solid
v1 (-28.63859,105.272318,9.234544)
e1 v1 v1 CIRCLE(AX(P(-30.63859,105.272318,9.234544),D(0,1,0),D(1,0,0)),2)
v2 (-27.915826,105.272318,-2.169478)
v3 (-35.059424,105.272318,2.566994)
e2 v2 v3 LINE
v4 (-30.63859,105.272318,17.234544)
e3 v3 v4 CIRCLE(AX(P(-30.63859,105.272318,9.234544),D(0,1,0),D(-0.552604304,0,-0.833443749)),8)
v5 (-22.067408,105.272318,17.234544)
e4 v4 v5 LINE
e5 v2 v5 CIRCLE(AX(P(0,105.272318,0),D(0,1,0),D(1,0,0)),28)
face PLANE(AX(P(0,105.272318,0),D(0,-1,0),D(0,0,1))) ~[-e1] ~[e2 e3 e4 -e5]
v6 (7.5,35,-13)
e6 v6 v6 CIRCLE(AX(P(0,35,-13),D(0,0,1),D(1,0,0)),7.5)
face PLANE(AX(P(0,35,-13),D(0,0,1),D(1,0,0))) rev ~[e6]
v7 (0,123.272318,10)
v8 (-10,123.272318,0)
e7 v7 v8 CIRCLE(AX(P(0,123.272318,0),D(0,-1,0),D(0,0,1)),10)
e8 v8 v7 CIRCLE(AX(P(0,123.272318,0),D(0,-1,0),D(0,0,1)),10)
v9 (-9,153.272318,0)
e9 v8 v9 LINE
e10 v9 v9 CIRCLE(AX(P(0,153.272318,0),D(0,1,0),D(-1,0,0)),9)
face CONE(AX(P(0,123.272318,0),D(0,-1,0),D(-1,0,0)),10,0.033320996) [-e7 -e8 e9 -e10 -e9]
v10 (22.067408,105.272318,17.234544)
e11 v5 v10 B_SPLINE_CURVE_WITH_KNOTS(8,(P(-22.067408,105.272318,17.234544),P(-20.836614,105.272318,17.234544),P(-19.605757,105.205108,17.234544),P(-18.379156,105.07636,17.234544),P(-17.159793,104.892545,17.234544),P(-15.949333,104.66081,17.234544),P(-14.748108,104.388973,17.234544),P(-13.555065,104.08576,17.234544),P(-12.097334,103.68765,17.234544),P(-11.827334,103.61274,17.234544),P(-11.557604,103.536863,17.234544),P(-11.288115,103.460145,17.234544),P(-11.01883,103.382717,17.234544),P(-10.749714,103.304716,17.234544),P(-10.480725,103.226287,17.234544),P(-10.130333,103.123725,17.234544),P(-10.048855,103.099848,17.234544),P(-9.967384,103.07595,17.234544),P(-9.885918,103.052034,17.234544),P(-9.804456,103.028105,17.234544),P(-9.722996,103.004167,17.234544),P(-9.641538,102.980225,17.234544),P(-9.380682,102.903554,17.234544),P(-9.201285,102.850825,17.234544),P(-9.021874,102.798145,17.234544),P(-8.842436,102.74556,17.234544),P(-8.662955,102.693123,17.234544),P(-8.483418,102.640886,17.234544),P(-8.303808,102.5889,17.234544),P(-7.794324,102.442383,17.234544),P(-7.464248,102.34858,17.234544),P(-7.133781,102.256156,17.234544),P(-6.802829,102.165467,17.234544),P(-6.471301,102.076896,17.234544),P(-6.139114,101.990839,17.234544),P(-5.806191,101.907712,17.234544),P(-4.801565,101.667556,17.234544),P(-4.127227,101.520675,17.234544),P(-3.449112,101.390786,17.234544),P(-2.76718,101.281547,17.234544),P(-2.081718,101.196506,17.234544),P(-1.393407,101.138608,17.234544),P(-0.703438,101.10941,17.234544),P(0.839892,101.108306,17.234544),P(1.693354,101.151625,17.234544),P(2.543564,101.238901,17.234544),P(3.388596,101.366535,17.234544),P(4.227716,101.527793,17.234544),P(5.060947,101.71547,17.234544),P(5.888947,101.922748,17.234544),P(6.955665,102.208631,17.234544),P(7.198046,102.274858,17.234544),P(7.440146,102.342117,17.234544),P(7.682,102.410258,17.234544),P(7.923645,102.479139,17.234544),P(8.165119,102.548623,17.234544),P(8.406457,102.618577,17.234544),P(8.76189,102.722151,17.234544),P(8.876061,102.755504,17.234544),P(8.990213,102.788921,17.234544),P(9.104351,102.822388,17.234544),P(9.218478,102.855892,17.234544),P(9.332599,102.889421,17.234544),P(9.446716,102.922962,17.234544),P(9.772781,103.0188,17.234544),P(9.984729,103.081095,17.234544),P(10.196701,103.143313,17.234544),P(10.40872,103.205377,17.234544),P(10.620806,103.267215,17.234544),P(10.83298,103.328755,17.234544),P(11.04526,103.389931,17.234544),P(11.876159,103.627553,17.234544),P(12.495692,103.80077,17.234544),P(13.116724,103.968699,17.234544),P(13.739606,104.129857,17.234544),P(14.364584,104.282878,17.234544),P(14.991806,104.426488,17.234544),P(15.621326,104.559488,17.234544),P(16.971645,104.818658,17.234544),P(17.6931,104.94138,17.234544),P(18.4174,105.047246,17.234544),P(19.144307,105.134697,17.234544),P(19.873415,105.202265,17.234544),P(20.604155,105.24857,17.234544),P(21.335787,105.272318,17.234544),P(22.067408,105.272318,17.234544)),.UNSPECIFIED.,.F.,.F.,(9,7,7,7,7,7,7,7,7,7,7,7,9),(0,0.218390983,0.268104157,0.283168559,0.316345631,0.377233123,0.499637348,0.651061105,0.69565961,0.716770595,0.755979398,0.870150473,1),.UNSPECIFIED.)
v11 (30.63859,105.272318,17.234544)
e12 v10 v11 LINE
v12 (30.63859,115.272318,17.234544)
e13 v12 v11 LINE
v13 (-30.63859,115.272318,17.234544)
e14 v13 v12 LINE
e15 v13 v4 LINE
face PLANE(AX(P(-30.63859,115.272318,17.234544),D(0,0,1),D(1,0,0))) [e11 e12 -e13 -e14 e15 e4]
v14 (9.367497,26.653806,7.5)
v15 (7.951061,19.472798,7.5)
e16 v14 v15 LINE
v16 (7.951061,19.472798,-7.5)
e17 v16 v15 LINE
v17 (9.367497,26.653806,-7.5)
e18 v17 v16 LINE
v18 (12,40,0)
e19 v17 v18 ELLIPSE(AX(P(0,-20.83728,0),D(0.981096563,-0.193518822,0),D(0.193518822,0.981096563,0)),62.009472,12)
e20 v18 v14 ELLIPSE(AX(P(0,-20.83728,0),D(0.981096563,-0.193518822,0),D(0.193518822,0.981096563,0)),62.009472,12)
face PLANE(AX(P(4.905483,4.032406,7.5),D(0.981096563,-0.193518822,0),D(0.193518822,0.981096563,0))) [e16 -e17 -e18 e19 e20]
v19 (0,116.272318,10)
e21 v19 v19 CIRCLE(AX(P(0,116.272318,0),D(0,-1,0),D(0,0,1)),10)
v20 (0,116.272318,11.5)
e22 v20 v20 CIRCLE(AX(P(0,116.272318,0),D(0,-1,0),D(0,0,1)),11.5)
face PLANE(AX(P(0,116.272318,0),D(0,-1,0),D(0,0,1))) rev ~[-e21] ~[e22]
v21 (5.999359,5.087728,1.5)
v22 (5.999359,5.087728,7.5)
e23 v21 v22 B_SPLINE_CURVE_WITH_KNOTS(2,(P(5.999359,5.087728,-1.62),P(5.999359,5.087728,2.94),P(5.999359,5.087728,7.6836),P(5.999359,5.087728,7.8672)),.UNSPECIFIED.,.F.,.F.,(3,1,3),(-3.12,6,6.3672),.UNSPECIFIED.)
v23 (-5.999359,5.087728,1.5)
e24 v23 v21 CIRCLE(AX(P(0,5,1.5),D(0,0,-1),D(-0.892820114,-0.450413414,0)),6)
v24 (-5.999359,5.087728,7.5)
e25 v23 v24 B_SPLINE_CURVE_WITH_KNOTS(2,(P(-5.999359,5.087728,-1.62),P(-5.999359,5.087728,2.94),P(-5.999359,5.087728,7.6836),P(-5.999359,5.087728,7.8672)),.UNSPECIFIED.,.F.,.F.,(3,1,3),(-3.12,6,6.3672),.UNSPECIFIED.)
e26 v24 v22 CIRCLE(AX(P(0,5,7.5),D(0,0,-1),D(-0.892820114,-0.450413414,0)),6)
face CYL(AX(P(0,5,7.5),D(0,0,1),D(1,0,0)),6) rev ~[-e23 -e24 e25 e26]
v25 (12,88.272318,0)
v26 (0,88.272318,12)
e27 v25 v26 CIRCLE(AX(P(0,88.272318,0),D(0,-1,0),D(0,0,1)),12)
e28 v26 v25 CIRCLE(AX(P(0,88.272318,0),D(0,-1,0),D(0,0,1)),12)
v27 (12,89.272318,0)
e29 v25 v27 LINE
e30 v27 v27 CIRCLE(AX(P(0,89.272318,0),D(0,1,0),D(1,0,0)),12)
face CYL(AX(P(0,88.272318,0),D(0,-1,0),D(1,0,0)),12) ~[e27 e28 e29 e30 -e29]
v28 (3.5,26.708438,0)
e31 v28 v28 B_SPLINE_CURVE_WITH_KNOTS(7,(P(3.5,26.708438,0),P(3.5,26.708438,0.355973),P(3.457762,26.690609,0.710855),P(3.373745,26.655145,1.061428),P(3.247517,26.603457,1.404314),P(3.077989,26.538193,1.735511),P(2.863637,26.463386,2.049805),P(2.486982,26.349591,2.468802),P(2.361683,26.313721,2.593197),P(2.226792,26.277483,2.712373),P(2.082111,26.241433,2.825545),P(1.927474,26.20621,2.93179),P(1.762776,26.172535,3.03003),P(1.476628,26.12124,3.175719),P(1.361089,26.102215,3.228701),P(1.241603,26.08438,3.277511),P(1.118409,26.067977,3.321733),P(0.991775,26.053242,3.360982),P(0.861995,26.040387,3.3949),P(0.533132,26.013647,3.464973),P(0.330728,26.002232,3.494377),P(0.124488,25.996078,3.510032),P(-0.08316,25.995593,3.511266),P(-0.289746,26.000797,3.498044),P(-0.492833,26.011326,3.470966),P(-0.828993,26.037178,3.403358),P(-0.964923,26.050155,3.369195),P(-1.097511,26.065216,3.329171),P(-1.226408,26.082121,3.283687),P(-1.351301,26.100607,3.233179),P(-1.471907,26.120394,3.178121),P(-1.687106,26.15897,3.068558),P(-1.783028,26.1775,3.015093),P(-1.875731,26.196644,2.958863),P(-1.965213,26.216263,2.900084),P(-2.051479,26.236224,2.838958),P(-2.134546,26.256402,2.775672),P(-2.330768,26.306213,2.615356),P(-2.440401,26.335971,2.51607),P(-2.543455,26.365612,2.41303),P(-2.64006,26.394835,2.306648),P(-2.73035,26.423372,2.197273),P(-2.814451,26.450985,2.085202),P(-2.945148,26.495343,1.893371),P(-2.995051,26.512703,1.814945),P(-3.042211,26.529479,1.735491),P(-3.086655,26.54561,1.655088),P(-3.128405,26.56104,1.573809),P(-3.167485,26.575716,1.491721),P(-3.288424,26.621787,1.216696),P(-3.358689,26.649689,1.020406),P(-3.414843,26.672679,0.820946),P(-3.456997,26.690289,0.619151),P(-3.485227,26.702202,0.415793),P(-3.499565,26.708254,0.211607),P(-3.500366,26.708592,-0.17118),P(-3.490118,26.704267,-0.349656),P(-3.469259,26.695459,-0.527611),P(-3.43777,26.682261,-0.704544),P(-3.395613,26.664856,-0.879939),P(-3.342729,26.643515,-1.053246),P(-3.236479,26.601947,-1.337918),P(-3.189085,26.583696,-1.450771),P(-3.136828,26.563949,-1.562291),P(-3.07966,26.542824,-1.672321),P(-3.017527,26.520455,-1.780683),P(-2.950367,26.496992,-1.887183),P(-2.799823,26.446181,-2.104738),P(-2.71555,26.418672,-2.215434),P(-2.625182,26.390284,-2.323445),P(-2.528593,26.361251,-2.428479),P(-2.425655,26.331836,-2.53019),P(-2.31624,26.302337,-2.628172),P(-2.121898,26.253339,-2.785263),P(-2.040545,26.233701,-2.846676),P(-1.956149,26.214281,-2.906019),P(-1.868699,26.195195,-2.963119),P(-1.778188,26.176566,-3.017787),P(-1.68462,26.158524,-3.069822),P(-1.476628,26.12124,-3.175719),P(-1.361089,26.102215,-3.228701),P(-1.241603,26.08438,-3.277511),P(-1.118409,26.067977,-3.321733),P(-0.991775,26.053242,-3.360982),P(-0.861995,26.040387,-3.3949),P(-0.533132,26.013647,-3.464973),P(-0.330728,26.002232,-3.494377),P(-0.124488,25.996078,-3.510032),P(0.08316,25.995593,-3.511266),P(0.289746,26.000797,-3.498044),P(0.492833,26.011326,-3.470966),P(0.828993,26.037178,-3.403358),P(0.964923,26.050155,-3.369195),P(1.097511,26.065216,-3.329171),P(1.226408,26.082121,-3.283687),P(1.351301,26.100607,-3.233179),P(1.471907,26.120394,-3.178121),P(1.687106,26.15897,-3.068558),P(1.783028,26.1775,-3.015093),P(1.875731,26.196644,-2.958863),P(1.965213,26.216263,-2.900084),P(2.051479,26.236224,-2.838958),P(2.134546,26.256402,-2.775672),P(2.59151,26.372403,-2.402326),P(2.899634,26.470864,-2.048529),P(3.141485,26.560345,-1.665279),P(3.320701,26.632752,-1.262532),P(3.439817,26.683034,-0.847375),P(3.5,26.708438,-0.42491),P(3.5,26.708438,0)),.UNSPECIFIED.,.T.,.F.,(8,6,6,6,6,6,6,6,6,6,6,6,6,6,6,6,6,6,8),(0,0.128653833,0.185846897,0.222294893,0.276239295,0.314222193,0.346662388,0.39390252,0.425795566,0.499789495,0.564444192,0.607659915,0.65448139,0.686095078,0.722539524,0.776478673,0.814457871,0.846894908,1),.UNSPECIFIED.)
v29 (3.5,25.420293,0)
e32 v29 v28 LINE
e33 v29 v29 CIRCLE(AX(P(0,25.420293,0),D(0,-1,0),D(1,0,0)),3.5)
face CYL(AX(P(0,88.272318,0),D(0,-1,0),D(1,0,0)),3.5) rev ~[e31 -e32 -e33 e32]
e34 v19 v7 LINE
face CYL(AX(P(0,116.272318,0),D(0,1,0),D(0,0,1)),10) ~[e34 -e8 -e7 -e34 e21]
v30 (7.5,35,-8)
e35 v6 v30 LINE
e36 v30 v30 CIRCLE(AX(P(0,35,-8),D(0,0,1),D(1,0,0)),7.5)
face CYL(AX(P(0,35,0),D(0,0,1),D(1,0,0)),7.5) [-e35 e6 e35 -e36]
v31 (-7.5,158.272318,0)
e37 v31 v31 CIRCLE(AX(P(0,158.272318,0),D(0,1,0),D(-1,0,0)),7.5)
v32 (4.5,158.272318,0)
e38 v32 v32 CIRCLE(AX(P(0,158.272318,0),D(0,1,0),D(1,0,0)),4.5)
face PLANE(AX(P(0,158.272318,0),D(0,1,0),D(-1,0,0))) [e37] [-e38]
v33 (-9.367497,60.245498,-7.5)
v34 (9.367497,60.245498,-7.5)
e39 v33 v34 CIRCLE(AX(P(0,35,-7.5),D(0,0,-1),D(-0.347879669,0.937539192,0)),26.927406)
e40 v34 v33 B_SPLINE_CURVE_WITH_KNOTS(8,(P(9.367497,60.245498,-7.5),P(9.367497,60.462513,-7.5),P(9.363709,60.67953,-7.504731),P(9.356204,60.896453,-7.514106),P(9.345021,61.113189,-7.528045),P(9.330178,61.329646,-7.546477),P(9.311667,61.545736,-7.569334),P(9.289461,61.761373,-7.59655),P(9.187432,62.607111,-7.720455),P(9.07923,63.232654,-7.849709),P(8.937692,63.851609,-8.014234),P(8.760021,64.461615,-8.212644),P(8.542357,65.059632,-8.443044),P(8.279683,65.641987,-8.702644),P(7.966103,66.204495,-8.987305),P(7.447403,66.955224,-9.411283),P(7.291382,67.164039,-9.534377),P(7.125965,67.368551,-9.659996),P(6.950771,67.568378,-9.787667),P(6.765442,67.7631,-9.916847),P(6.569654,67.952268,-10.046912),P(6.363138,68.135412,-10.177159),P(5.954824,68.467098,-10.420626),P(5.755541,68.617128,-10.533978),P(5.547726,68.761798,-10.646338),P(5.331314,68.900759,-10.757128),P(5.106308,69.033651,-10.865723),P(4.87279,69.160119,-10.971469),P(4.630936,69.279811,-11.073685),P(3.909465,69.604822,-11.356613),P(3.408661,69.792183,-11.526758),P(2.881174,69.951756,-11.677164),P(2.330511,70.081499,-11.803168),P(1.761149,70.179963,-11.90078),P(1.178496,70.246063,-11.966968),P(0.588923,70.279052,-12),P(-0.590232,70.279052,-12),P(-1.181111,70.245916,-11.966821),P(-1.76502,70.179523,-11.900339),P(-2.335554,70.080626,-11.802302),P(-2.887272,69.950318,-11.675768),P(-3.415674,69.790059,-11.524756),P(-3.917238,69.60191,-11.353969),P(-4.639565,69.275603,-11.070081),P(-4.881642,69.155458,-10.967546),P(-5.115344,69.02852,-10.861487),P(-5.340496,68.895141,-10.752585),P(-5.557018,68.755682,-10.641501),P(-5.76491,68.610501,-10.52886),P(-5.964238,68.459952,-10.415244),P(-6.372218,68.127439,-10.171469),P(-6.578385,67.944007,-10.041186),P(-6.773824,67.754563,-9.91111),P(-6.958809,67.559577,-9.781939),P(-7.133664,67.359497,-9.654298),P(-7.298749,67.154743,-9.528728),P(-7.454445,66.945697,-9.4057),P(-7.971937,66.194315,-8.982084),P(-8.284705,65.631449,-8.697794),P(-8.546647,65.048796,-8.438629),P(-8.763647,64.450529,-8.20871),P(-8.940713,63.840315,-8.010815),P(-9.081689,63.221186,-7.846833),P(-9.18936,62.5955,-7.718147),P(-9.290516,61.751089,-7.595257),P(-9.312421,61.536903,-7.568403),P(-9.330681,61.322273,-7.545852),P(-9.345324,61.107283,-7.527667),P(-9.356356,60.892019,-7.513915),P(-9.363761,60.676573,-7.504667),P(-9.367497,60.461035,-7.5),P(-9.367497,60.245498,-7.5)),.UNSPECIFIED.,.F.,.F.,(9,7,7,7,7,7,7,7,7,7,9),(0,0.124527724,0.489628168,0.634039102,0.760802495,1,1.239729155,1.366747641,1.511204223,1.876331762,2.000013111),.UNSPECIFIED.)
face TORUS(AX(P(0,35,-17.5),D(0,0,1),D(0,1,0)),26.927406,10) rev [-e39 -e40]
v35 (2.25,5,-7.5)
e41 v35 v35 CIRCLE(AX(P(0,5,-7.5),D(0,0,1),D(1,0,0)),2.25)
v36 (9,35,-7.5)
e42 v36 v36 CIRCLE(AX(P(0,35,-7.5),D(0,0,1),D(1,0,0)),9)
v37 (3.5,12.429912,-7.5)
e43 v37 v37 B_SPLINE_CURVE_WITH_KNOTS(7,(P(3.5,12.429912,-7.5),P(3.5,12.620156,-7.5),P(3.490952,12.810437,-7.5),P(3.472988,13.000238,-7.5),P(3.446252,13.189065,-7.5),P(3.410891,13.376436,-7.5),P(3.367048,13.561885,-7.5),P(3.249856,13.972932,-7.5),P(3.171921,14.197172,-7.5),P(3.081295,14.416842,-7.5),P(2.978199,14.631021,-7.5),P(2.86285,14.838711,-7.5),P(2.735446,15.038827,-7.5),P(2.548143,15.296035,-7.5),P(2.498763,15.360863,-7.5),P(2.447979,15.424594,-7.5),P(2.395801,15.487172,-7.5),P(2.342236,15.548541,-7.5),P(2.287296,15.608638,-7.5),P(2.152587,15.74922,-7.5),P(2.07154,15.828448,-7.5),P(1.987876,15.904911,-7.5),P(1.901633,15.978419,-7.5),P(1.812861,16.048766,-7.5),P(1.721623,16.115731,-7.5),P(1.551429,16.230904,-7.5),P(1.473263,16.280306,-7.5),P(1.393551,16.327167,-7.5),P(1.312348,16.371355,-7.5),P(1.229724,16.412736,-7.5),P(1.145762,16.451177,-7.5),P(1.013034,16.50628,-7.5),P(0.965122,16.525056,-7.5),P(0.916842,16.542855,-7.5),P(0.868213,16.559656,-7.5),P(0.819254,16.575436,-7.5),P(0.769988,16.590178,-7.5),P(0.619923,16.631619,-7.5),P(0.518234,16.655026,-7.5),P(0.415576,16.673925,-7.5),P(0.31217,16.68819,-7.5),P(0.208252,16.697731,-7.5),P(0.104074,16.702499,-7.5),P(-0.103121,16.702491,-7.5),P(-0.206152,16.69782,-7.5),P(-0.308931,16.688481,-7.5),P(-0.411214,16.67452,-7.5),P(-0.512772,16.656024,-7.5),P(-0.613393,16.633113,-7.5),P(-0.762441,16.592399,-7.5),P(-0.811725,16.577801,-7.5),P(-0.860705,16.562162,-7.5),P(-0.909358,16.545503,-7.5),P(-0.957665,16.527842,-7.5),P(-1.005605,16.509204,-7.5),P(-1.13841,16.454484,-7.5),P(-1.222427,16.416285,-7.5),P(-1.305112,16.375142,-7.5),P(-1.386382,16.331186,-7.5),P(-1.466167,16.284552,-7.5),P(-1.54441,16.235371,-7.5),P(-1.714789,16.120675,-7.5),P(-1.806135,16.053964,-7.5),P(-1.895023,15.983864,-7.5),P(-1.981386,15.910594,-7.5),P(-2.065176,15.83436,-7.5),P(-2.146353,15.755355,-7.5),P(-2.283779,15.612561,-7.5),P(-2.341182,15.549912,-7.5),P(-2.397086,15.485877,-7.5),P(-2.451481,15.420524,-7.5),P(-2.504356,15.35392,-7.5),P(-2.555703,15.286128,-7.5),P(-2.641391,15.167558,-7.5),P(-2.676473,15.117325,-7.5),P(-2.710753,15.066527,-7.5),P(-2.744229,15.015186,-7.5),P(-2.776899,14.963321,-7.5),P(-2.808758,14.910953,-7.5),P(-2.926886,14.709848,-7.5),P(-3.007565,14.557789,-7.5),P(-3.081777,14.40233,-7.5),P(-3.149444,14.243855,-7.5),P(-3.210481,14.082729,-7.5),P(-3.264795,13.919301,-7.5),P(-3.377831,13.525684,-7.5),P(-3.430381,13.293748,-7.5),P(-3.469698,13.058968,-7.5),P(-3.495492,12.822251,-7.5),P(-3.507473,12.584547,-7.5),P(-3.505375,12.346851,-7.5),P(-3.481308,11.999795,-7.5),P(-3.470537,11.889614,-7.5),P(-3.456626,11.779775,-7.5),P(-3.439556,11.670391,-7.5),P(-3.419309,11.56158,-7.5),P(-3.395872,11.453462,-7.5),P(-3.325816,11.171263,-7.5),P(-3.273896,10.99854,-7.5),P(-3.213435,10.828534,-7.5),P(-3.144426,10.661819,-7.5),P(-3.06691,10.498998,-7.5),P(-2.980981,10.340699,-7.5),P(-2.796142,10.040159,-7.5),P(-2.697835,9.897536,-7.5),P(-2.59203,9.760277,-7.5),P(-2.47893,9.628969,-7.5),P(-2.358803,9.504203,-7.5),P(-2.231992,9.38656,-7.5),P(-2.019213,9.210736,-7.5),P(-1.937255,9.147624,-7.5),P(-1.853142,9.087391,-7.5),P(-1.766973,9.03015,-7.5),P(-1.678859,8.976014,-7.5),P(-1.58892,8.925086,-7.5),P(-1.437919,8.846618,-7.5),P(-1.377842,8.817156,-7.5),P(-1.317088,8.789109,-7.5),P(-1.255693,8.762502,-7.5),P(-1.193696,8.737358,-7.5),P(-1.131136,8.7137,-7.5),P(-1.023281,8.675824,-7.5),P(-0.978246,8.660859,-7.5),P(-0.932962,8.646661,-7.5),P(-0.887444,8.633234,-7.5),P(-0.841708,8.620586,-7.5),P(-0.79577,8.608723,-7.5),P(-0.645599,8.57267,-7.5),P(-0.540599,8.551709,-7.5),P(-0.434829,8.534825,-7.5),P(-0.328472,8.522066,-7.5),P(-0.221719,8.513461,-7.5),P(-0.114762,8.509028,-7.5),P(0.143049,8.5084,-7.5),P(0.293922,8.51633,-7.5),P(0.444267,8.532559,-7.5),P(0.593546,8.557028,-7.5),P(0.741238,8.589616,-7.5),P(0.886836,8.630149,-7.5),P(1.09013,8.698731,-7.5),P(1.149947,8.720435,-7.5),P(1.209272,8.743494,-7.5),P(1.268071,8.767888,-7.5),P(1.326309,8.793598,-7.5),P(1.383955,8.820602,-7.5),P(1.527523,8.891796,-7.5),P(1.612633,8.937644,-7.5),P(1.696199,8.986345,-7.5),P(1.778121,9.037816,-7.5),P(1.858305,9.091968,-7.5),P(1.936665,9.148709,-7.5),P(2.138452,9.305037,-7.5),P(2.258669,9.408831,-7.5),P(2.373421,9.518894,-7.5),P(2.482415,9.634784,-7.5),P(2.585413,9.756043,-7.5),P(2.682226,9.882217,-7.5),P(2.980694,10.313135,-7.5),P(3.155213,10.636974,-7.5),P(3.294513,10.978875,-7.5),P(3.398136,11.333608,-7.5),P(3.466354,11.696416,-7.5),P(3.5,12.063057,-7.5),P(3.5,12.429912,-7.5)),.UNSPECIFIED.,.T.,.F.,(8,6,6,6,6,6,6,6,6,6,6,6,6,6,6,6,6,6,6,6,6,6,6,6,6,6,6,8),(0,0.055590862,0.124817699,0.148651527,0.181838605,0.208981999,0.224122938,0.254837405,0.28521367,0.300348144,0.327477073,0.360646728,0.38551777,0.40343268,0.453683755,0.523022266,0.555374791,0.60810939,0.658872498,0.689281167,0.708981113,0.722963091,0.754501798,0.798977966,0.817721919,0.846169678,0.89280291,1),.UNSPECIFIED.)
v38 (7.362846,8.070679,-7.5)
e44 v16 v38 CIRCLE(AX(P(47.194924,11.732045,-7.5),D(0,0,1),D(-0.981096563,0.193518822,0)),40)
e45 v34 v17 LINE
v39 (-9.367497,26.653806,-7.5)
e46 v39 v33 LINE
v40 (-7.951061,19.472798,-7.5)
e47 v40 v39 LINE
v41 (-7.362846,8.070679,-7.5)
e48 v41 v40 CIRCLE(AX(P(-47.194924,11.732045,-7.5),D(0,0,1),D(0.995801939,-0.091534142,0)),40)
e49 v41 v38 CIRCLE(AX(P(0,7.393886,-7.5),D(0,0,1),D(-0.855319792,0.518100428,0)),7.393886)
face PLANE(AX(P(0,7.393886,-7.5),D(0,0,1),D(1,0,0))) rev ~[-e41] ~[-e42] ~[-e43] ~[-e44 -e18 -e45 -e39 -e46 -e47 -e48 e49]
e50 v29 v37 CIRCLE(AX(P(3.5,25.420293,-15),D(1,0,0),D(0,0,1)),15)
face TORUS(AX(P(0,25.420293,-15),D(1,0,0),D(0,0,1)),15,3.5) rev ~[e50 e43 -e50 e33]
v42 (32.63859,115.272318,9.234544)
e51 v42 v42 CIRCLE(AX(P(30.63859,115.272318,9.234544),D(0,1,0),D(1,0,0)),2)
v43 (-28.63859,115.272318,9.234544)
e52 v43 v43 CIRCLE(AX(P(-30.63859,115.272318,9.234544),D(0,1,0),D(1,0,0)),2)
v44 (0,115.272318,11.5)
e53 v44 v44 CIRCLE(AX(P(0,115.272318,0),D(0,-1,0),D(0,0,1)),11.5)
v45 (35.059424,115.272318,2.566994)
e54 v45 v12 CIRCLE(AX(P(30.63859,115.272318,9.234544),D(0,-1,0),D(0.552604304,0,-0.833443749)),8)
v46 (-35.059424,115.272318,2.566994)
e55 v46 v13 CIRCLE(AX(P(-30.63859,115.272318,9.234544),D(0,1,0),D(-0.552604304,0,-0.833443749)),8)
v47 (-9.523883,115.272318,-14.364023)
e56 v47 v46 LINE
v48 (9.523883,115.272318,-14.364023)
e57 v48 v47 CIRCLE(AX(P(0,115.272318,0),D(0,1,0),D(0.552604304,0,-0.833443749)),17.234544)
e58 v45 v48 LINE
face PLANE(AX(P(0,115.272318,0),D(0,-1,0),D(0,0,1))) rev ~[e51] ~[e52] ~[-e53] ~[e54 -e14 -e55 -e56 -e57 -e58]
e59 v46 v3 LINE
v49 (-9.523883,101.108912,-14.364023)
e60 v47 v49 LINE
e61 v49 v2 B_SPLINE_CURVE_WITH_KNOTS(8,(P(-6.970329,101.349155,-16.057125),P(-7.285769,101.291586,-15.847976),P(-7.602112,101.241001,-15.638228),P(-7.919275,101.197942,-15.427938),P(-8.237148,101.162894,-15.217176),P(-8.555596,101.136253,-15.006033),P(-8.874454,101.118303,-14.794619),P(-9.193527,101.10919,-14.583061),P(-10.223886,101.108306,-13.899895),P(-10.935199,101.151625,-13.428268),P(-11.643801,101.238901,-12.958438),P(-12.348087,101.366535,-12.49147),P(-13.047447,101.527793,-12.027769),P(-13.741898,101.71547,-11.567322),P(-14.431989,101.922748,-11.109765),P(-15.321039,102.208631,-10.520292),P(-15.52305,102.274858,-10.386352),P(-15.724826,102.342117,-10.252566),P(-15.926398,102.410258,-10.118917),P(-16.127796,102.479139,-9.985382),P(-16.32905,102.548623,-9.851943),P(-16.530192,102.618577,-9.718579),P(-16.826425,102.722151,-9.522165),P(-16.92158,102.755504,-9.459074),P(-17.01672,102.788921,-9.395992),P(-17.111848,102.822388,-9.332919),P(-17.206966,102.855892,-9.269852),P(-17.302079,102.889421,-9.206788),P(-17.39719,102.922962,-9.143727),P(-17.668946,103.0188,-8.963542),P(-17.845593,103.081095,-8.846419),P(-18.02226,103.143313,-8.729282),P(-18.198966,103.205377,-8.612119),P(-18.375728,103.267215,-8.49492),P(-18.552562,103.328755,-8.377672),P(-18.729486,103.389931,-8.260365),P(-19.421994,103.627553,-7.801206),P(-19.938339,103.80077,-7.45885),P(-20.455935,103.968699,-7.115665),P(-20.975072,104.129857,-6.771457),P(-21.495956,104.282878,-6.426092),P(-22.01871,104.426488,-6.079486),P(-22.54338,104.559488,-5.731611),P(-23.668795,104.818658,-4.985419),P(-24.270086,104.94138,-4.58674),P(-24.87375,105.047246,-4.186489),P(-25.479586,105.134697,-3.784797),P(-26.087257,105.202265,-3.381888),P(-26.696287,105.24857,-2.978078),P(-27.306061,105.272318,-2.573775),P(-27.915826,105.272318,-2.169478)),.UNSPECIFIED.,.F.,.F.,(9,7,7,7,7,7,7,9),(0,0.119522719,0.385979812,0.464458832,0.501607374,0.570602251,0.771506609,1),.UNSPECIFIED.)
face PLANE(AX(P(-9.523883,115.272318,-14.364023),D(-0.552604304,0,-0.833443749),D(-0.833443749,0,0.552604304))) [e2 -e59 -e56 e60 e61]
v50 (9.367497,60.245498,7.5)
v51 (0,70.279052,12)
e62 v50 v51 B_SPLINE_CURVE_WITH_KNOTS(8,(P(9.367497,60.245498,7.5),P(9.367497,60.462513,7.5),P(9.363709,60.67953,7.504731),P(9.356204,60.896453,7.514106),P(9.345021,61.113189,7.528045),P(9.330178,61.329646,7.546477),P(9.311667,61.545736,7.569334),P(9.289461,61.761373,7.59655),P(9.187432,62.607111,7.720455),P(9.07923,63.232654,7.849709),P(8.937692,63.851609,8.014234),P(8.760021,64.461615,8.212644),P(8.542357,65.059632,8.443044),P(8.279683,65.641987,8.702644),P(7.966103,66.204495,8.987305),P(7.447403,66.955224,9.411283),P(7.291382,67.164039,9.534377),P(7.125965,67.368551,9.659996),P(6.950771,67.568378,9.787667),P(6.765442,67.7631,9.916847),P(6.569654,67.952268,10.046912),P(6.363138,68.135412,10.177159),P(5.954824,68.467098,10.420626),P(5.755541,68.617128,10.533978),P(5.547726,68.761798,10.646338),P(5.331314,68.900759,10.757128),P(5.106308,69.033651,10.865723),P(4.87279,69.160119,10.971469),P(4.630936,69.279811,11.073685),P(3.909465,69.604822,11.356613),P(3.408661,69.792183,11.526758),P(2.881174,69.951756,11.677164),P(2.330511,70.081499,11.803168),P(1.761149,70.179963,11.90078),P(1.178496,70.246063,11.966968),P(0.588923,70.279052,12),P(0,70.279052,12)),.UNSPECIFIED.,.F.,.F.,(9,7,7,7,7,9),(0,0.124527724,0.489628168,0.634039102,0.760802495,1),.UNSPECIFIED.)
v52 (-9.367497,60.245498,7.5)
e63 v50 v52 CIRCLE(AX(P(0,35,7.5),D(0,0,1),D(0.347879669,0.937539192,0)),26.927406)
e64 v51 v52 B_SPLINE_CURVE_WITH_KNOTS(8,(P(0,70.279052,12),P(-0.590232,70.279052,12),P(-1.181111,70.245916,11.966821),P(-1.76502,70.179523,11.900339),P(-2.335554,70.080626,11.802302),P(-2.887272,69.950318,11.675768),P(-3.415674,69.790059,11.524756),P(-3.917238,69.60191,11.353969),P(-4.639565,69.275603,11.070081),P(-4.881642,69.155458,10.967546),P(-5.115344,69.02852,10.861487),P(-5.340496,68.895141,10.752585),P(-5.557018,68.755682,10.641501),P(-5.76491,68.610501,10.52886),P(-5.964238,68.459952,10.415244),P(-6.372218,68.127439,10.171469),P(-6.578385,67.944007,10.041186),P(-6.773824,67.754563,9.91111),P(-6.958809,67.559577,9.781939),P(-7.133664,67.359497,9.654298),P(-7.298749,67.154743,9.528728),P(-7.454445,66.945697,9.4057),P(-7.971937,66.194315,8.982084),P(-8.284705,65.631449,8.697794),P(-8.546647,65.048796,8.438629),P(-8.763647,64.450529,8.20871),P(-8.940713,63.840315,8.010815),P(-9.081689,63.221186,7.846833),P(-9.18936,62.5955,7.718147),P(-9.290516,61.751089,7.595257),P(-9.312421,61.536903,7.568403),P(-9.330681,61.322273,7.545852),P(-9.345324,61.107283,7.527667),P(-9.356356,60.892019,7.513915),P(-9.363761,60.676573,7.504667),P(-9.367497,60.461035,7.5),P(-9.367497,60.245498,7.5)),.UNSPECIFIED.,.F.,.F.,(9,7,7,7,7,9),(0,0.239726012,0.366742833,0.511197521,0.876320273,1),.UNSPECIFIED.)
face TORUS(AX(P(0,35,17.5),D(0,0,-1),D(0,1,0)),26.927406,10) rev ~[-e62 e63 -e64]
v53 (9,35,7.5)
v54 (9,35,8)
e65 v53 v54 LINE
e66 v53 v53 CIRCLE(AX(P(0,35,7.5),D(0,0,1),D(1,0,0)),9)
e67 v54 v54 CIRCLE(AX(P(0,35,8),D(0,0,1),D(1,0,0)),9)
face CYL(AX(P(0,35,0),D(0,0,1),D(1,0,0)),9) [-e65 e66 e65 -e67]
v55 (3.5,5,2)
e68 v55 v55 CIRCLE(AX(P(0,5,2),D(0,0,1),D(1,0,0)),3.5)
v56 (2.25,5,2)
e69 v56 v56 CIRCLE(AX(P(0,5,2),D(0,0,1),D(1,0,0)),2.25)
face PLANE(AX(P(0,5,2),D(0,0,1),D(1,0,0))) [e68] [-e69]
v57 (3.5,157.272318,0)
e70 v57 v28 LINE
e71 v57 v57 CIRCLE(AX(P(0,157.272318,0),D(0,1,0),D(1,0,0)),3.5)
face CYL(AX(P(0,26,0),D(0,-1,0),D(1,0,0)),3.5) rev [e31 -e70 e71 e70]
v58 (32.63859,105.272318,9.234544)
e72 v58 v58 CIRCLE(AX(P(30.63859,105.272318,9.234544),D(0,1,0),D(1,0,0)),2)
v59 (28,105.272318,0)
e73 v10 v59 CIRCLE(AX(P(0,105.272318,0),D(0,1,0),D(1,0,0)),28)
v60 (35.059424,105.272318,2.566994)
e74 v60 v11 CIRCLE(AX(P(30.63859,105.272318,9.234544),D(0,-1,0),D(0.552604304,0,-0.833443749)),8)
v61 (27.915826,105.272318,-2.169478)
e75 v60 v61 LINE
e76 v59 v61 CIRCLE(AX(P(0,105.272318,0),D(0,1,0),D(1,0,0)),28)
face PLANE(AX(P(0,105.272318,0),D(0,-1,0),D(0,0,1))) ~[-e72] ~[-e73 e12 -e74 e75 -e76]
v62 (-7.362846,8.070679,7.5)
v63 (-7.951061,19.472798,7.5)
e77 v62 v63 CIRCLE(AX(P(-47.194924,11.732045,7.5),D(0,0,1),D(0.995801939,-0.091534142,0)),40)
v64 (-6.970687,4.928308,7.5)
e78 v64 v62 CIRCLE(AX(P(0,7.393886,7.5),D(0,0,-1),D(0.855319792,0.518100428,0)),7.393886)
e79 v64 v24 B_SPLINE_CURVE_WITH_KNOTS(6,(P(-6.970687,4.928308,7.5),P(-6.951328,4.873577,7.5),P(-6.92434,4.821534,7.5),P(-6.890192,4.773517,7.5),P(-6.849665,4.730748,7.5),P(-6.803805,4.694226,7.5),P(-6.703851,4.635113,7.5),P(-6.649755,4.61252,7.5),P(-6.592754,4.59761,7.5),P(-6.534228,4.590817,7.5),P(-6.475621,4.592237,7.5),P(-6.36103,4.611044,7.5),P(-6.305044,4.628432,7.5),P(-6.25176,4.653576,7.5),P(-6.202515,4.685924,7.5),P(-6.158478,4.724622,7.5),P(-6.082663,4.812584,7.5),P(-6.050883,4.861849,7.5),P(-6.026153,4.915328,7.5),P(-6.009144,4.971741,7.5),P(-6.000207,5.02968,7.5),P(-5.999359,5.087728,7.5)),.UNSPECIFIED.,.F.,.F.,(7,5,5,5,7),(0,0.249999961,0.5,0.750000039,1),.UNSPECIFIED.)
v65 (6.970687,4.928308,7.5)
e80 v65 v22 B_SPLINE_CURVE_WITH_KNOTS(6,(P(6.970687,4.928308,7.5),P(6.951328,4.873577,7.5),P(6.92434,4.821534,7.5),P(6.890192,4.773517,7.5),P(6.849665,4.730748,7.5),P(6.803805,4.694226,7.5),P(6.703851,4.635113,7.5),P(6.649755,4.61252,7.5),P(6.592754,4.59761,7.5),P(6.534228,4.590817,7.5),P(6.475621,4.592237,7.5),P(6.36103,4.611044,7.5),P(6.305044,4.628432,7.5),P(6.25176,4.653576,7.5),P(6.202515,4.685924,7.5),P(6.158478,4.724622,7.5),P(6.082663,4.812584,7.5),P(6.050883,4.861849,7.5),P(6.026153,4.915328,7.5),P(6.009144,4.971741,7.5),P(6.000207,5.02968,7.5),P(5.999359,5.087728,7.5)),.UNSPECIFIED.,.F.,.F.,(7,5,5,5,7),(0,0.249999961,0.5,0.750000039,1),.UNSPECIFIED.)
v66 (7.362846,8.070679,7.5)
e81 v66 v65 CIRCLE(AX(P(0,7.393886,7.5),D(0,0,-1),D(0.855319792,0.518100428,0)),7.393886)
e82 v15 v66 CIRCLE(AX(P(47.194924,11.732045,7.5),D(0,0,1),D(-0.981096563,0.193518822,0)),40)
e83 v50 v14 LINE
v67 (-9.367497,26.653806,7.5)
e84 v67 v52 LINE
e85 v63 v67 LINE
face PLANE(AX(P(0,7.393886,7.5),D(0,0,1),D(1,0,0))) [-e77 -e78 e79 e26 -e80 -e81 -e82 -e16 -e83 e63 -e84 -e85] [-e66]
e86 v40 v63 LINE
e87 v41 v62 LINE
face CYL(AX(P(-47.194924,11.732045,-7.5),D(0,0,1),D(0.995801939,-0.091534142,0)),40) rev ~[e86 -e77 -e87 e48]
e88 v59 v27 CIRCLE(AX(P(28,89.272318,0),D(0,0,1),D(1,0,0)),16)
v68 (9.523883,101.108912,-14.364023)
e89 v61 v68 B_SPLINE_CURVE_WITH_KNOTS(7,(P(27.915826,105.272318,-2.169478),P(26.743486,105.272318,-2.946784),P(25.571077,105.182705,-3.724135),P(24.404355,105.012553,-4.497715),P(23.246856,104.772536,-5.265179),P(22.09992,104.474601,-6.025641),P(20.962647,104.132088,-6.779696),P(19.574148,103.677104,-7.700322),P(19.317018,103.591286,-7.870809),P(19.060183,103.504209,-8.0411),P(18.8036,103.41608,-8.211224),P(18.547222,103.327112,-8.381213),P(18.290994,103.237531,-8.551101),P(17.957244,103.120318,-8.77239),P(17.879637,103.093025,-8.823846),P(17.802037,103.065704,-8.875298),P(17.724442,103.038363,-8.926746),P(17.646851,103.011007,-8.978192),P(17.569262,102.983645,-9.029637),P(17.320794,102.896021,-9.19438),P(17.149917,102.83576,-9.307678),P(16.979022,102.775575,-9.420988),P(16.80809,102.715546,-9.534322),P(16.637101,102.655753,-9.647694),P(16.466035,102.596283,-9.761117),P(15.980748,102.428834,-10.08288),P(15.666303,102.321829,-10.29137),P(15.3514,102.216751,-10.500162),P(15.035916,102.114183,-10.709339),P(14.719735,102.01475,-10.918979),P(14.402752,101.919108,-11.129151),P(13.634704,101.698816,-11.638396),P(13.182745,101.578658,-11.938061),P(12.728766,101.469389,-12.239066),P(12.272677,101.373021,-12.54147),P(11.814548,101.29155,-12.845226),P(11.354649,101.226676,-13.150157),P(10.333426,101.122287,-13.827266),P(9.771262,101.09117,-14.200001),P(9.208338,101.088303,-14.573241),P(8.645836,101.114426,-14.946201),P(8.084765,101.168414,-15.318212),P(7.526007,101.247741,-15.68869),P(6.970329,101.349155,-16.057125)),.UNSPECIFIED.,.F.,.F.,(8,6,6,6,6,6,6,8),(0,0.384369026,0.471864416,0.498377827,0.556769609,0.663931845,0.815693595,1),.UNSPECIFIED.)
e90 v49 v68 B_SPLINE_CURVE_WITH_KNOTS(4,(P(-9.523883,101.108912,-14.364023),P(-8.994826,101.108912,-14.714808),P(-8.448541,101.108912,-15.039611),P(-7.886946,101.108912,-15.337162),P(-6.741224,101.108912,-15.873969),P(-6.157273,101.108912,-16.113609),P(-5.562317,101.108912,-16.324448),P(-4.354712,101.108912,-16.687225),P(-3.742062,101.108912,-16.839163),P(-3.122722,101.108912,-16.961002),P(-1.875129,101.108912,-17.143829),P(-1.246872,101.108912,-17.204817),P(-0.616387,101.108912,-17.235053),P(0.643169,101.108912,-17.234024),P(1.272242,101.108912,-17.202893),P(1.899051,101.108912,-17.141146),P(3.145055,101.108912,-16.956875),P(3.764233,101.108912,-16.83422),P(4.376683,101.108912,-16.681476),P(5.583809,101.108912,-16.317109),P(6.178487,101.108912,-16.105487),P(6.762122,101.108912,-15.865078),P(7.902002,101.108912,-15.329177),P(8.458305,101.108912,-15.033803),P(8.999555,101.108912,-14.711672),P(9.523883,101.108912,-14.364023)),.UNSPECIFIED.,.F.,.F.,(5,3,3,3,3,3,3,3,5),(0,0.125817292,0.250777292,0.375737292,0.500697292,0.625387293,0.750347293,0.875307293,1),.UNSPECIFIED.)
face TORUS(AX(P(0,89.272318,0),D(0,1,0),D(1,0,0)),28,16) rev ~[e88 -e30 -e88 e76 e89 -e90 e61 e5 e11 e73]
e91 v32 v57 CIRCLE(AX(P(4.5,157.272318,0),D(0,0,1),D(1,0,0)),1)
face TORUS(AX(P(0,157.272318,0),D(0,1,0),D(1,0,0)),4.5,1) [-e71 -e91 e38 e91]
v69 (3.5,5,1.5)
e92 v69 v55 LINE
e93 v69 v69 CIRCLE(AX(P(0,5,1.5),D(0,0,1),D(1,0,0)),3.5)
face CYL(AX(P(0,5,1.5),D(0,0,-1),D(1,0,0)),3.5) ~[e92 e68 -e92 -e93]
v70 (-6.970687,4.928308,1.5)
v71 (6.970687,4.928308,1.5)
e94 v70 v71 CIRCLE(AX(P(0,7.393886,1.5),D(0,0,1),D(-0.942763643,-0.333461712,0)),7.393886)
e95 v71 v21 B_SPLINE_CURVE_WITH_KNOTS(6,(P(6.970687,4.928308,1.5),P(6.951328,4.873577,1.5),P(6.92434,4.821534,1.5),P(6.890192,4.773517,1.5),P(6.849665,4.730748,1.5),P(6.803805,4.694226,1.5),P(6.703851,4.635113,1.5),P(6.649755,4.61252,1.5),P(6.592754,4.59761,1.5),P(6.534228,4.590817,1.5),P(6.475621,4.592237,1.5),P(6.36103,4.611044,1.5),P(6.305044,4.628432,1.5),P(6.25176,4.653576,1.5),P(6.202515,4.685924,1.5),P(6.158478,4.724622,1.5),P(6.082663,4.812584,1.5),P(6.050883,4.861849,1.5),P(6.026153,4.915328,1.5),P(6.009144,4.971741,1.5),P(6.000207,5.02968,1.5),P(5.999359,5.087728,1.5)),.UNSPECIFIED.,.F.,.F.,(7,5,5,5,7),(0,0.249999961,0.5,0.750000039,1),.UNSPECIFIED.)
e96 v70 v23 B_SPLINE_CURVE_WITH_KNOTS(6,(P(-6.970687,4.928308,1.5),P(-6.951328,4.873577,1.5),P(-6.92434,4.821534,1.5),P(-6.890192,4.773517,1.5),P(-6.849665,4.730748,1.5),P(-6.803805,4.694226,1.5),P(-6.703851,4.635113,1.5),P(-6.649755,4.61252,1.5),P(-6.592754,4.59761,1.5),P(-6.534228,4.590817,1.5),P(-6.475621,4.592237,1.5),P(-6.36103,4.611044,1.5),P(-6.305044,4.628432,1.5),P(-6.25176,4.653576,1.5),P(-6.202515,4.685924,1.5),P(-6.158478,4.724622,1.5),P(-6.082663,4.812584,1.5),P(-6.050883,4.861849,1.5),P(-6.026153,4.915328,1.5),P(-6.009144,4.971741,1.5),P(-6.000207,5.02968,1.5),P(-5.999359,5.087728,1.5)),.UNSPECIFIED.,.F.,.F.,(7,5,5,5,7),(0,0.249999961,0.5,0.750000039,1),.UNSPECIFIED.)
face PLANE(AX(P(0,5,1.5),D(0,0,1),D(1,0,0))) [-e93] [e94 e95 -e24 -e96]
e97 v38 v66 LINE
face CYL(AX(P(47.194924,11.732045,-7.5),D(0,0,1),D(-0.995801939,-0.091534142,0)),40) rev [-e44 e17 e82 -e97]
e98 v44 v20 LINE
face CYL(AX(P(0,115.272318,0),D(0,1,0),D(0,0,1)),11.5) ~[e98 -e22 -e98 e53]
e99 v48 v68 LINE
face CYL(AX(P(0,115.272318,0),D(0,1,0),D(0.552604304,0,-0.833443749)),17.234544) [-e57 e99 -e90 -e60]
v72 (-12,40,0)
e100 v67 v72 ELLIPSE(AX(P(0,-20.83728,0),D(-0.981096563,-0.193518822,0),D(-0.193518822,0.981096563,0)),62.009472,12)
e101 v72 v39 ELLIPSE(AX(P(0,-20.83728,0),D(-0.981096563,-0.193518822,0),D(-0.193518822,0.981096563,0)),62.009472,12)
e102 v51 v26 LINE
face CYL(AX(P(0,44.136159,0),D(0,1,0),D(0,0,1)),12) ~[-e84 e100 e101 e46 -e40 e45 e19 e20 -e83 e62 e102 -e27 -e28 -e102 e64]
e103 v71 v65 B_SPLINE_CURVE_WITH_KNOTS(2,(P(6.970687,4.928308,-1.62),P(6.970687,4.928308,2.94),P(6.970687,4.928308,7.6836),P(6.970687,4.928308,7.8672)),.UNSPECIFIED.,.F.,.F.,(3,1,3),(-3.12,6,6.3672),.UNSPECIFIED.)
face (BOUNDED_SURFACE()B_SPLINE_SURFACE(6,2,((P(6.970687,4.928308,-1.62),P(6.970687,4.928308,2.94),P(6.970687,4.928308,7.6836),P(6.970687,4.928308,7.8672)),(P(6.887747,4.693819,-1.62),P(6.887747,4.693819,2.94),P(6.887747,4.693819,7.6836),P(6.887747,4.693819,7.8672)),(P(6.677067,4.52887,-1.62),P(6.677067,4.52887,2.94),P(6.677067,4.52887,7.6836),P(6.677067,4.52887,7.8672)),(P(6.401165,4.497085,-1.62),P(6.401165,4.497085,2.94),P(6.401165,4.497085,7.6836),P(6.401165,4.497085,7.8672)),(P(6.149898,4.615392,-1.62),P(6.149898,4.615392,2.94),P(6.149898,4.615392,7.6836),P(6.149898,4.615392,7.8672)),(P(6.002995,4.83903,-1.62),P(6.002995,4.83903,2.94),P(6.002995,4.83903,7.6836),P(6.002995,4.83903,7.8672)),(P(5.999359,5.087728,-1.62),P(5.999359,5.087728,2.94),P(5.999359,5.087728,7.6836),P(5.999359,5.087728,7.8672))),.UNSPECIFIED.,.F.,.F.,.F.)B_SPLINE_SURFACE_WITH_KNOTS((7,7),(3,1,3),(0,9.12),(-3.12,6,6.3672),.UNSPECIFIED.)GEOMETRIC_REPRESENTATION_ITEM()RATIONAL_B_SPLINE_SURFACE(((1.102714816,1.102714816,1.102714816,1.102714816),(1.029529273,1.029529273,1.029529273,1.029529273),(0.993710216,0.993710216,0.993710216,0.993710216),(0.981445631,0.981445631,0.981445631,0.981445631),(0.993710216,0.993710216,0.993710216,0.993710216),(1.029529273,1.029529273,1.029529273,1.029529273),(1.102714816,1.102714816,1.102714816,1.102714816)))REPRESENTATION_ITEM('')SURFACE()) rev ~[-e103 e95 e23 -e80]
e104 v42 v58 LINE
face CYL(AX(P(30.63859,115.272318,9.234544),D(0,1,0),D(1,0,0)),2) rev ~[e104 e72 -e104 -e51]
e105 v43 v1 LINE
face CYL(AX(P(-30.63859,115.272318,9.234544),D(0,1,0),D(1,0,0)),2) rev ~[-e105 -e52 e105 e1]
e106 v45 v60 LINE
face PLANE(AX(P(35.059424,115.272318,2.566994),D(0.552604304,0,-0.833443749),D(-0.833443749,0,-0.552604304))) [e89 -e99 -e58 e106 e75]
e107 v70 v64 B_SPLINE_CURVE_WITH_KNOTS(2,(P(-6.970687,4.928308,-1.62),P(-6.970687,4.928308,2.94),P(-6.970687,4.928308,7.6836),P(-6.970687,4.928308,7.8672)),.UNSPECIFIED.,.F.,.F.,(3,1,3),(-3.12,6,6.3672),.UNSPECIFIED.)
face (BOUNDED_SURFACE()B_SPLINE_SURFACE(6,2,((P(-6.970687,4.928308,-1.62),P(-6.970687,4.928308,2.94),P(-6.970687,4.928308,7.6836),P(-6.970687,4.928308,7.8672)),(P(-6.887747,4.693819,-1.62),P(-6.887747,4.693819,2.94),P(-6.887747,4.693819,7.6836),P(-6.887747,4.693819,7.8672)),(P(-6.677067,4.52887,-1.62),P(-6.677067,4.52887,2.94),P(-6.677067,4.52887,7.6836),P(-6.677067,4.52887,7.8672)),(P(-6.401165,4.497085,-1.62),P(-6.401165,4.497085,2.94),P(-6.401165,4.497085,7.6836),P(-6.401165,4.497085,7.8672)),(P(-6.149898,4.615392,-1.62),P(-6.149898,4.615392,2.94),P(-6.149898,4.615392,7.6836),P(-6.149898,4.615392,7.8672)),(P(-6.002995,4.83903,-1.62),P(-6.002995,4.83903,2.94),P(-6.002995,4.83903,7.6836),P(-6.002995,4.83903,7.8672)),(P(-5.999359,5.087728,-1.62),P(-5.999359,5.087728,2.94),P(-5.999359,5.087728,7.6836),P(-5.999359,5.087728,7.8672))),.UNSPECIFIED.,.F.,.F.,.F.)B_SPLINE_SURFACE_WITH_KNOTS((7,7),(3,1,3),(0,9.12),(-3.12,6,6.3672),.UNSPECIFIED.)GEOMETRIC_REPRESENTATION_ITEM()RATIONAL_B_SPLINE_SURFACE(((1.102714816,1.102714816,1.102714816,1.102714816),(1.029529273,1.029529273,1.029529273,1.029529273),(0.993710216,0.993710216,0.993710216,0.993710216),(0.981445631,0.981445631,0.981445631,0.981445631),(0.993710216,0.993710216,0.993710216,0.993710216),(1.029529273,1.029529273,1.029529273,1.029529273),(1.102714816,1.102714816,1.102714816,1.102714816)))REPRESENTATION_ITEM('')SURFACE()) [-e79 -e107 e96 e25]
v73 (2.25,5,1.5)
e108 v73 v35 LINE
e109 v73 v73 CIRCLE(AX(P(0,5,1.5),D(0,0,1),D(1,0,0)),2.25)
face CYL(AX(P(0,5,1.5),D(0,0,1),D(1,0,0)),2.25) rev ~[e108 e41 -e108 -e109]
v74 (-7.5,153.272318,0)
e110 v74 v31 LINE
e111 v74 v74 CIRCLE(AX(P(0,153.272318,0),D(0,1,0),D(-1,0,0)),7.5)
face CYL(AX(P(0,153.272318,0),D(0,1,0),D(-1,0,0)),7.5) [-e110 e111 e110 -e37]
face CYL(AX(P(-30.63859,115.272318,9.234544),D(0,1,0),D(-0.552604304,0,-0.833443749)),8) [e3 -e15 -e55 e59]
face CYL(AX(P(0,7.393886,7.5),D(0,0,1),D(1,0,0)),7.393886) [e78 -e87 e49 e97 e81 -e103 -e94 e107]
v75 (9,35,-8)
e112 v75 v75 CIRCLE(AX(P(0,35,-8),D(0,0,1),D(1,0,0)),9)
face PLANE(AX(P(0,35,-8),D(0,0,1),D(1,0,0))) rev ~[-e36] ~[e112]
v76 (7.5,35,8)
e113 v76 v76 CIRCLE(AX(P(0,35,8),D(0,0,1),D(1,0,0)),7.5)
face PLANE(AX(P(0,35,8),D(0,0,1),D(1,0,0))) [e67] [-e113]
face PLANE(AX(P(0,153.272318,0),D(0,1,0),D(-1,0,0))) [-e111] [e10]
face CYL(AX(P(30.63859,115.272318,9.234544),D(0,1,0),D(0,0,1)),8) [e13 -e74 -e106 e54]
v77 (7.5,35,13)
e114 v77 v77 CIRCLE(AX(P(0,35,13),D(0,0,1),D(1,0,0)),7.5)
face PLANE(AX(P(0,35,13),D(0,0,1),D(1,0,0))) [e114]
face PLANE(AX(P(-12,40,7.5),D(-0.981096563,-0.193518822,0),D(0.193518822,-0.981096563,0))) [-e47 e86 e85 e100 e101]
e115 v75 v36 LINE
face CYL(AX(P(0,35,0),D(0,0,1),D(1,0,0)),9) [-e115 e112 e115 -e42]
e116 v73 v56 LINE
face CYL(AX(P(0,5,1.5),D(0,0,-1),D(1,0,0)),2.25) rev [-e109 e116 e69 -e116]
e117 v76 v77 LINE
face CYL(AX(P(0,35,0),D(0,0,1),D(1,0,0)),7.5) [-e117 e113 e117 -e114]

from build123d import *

# Parameters (mm, degrees)
SKETCH1_W               = 12
SKETCH1_H               = 88.272317903
SKETCH2_W               = 4.5
SKETCH2_H               = 60
CUT_EXTRUDE1_DEPTH      = 13
CUT_EXTRUDE1_DEPTH_BACK = 13
CUT_EXTRUDE2_DEPTH      = 5.5
CUT_EXTRUDE2_DEPTH_BACK = 20.5
SKETCH12_R              = 7.393886086
BOSS_EXTRUDE4_DEPTH     = 15
FILLET2_R               = 40
SKETCH4_R               = 6
CUT_EXTRUDE3_DEPTH      = 6
SKETCH5_R               = 2.25
CUT_EXTRUDE4_DEPTH      = 14.5
SKETCH6_R               = 7.5
BOSS_EXTRUDE1_DEPTH     = 13
SKETCH9_R               = 3.5
SKETCH10_R              = 9
BOSS_EXTRUDE2_DEPTH     = 8
SKETCH11_R              = 3.5
SKETCH11_R_2            = 2.25
BOSS_EXTRUDE3_DEPTH     = 0.5
FILLET1_R               = 0.5
SKETCH13_R              = 12
SKETCH13_R_2            = 3.5
BOSS_EXTRUDE5_DEPTH     = 17
FILLET3_R               = 16
SKETCH16_R              = 77.650275013
CUT_EXTRUDE5_DEPTH      = 22
SKETCH17_R              = 2
CUT_EXTRUDE6_DEPTH      = 22
CUT_EXTRUDE7_START      = -132.272318
SKETCH20_R              = 3.5
CUT_EXTRUDE7_DEPTH      = 132.272318
FILLET5_R               = 1


with BuildPart() as part:
    # Sketch1 → Revolve1 (revolve)
    with BuildSketch(Plane(origin=(0, 0, 0), x_dir=(0, 0, -1), z_dir=(1, 0, 0))):
        with Locations((-6, 44.136158952)):
            Rectangle(SKETCH1_W, SKETCH1_H)
    revolve(axis=Axis((0, 88.272317903, 0), (0, -1, 0)))

    # Sketch2 → Cut-Extrude1 (cut, two sides)
    with BuildSketch(Plane(origin=(0, 0, 0), x_dir=(0, 0, -1), z_dir=(1, 0, 0))) as cut_extrude1_sk:
        with Locations((-9.75, 30)):
            Rectangle(SKETCH2_W, SKETCH2_H)
        with Locations((9.75, 30)):
            Rectangle(SKETCH2_W, SKETCH2_H)
    extrude(amount=CUT_EXTRUDE1_DEPTH, mode=Mode.SUBTRACT)
    extrude(cut_extrude1_sk.sketch, amount=-CUT_EXTRUDE1_DEPTH_BACK, mode=Mode.SUBTRACT)

    # Sketch3 → Cut-Extrude2 (cut, two sides)
    with BuildSketch(Plane.XY.offset(7.5)) as cut_extrude2_sk:
        with BuildLine():
            Line((-12, 40), (-4.905482814, 4.032405892))
            ThreePointArc((-4.905482814, 4.032405892), (0, 0), (4.905482814, 4.032405892))
            Line((4.905482814, 4.032405892), (12, 40))
            Line((12, 40), (12, 0))
            Line((12, 0), (12, -1))
            Line((12, -1), (-12, -1))
            Line((-12, -1), (-12, 0))
            Line((-12, 0), (-12, 40))
        make_face()
    extrude(amount=CUT_EXTRUDE2_DEPTH, mode=Mode.SUBTRACT)
    extrude(cut_extrude2_sk.sketch, amount=-CUT_EXTRUDE2_DEPTH_BACK, mode=Mode.SUBTRACT)

    # Sketch12 → Boss-Extrude4 (add)
    with BuildSketch(Plane.XY.offset(7.5)):
        with Locations((0, 7.393886086)):
            Circle(SKETCH12_R)
    extrude(amount=-BOSS_EXTRUDE4_DEPTH)

    # Fillet2
    fillet2_edges = [part.edges().sort_by_distance(p)[0] for p in [
        (6.324137111, 11.224661628, 0),
        (-6.324137111, 11.224661628, 0),
    ]]
    fillet(fillet2_edges, radius=FILLET2_R)

    # Sketch4 → Cut-Extrude3 (cut)
    with BuildSketch(Plane.XY.offset(7.5)):
        with Locations((0, 5)):
            Circle(SKETCH4_R)
    extrude(amount=-CUT_EXTRUDE3_DEPTH, mode=Mode.SUBTRACT)

    # Sketch5 → Cut-Extrude4 (cut, through all)
    with BuildSketch(Plane.XY.offset(1.5)):
        with Locations((0, 5)):
            Circle(SKETCH5_R)
    extrude(amount=-CUT_EXTRUDE4_DEPTH, mode=Mode.SUBTRACT)

    # Sketch6 → Boss-Extrude1 (add, symmetric)
    with BuildSketch(Plane.XY):
        with Locations((0, 35)):
            Circle(SKETCH6_R)
    extrude(amount=BOSS_EXTRUDE1_DEPTH, both=True)

    # Sketch7 → Cut-Revolve1 (revolve, cut)
    with BuildSketch(Plane(origin=(0, 0, 0), x_dir=(0, 0, -1), z_dir=(1, 0, 0))):
        with BuildLine():
            Line((-7.5, 61.927405715), (-7.5, 51.927405715))
            Line((-7.5, 51.927405715), (-17.5, 51.927405715))
            ThreePointArc((-17.5, 51.927405715), (-24.571067812, 68.998473527), (-7.5, 61.927405715))
        make_face()
        with BuildLine():
            Line((7.5, 51.927405715), (17.5, 51.927405715))
            ThreePointArc((17.5, 51.927405715), (24.571067812, 68.998473527), (7.5, 61.927405715))
            Line((7.5, 61.927405715), (7.5, 51.927405715))
        make_face()
    revolve(axis=Axis((0, 35, 13), (0, 0, -1)), mode=Mode.SUBTRACT)

    # Cut-Sweep1: sweep along a path in Sketch8
    with BuildLine(Plane(origin=(0, 0, 0), x_dir=(0, 0, -1), z_dir=(1, 0, 0))) as cut_sweep1_path:
        Line((0, 88.272317903), (0, 25.420292636))
        ThreePointArc((0, 25.420292636), (3.646414893, 15.617430543), (12.812814028, 10.580608761))
    # Sketch9 → Cut-Sweep1 (sweep, cut)
    with BuildSketch(Plane(origin=(0, 88.272317903, 0), x_dir=(1, 0, 0), z_dir=(0, 1, 0))):
        Circle(SKETCH9_R)
    sweep(path=cut_sweep1_path.line, mode=Mode.SUBTRACT)

    # Sketch10 → Boss-Extrude2 (add, symmetric)
    with BuildSketch(Plane.XY):
        with Locations((0, 35)):
            Circle(SKETCH10_R)
    extrude(amount=BOSS_EXTRUDE2_DEPTH, both=True)

    # Sketch11 → Boss-Extrude3 (add)
    with BuildSketch(Plane.XY.offset(1.5)):
        with Locations((0, 5)):
            Circle(SKETCH11_R)
        with Locations((0, 5)):
            Circle(SKETCH11_R_2, mode=Mode.SUBTRACT)
    extrude(amount=BOSS_EXTRUDE3_DEPTH)

    # Fillet1
    fillet1_edges = [part.edges().sort_by_distance(p)[0] for p in [
        (-5.356920685, 2.297519515, 4.5),
        (5.356920685, 2.297519515, 4.5),
    ]]
    fillet(fillet1_edges, radius=FILLET1_R)

    # Sketch13 → Boss-Extrude5 (add)
    with BuildSketch(Plane(origin=(0, 88.272317903, 0), x_dir=(1, 0, 0), z_dir=(0, 1, 0))):
        Circle(SKETCH13_R)
        Circle(SKETCH13_R_2, mode=Mode.SUBTRACT)
    extrude(amount=BOSS_EXTRUDE5_DEPTH)

    # Sketch15 → Revolve2 (revolve)
    with BuildSketch(Plane(origin=(0, 0, 0), x_dir=(0, 0, -1), z_dir=(1, 0, 0))):
        Polygon((0, 105.272317903), (-40, 105.272317903), (-40, 115.272317903), (-11.5, 115.272317903), (-11.5, 116.272317903), (-10, 116.272317903), (-10, 123.272317903), (0, 123.272317903), align=None)
    revolve(axis=Axis((0, 88.826005803, 0), (0, -1, 0)))

    # Fillet3
    fillet3_edges = [part.edges().sort_by_distance(p)[0] for p in [
        (-12, 105.272317903, 0),
    ]]
    fillet(fillet3_edges, radius=FILLET3_R)

    # Sketch16 → Cut-Extrude5 (cut)
    with BuildSketch(Plane(origin=(0, 115.272317903, 0), x_dir=(1, 0, 0), z_dir=(0, 1, 0))):
        Circle(SKETCH16_R)
        with BuildLine():
            Line((-30.638590038, -17.23454387), (30.638590038, -17.23454387))
            ThreePointArc((30.638590038, -17.23454387), (38.298237548, -11.543179837), (35.059424473, -2.566993877))
            Line((35.059424473, -2.566993877), (9.523883126, 14.364022856))
            ThreePointArc((9.523883126, 14.364022856), (0, 17.23454387), (-9.523883126, 14.364022856))
            Line((-9.523883126, 14.364022856), (-35.059424473, -2.566993877))
            ThreePointArc((-35.059424473, -2.566993877), (-38.298237548, -11.543179837), (-30.638590038, -17.23454387))
        make_face(mode=Mode.SUBTRACT)
    extrude(amount=-CUT_EXTRUDE5_DEPTH, mode=Mode.SUBTRACT)

    # Sketch17 → Cut-Extrude6 (cut)
    with BuildSketch(Plane(origin=(0, 115.272317903, 0), x_dir=(1, 0, 0), z_dir=(0, 1, 0))):
        with Locations((-30.638590038, -9.23454387)):
            Circle(SKETCH17_R)
        with Locations((30.638590038, -9.23454387)):
            Circle(SKETCH17_R)
    extrude(amount=-CUT_EXTRUDE6_DEPTH, mode=Mode.SUBTRACT)

    # Sketch19 → Revolve3 (revolve)
    with BuildSketch(Plane.XY):
        Polygon((-10, 123.272317903), (-9, 153.272317903), (-7.5, 153.272317903), (-7.5, 158.272317903), (0, 158.272317903), (0, 123.272317903), align=None)
    revolve(axis=Axis((0, 123.272317903, 0), (0, 1, 0)))

    # Sketch20 → Cut-Extrude7 (cut)
    with BuildSketch(Plane(origin=(0, 158.272317903, 0), x_dir=(1, 0, 0), z_dir=(0, 1, 0)).offset(CUT_EXTRUDE7_START)):
        Circle(SKETCH20_R)
    extrude(amount=CUT_EXTRUDE7_DEPTH, mode=Mode.SUBTRACT)

    # Fillet5
    fillet5_edges = [part.edges().sort_by_distance(p)[0] for p in [
        (-3.5, 158.272317903, 0),
    ]]
    fillet(fillet5_edges, radius=FILLET5_R)


solid = part.part
